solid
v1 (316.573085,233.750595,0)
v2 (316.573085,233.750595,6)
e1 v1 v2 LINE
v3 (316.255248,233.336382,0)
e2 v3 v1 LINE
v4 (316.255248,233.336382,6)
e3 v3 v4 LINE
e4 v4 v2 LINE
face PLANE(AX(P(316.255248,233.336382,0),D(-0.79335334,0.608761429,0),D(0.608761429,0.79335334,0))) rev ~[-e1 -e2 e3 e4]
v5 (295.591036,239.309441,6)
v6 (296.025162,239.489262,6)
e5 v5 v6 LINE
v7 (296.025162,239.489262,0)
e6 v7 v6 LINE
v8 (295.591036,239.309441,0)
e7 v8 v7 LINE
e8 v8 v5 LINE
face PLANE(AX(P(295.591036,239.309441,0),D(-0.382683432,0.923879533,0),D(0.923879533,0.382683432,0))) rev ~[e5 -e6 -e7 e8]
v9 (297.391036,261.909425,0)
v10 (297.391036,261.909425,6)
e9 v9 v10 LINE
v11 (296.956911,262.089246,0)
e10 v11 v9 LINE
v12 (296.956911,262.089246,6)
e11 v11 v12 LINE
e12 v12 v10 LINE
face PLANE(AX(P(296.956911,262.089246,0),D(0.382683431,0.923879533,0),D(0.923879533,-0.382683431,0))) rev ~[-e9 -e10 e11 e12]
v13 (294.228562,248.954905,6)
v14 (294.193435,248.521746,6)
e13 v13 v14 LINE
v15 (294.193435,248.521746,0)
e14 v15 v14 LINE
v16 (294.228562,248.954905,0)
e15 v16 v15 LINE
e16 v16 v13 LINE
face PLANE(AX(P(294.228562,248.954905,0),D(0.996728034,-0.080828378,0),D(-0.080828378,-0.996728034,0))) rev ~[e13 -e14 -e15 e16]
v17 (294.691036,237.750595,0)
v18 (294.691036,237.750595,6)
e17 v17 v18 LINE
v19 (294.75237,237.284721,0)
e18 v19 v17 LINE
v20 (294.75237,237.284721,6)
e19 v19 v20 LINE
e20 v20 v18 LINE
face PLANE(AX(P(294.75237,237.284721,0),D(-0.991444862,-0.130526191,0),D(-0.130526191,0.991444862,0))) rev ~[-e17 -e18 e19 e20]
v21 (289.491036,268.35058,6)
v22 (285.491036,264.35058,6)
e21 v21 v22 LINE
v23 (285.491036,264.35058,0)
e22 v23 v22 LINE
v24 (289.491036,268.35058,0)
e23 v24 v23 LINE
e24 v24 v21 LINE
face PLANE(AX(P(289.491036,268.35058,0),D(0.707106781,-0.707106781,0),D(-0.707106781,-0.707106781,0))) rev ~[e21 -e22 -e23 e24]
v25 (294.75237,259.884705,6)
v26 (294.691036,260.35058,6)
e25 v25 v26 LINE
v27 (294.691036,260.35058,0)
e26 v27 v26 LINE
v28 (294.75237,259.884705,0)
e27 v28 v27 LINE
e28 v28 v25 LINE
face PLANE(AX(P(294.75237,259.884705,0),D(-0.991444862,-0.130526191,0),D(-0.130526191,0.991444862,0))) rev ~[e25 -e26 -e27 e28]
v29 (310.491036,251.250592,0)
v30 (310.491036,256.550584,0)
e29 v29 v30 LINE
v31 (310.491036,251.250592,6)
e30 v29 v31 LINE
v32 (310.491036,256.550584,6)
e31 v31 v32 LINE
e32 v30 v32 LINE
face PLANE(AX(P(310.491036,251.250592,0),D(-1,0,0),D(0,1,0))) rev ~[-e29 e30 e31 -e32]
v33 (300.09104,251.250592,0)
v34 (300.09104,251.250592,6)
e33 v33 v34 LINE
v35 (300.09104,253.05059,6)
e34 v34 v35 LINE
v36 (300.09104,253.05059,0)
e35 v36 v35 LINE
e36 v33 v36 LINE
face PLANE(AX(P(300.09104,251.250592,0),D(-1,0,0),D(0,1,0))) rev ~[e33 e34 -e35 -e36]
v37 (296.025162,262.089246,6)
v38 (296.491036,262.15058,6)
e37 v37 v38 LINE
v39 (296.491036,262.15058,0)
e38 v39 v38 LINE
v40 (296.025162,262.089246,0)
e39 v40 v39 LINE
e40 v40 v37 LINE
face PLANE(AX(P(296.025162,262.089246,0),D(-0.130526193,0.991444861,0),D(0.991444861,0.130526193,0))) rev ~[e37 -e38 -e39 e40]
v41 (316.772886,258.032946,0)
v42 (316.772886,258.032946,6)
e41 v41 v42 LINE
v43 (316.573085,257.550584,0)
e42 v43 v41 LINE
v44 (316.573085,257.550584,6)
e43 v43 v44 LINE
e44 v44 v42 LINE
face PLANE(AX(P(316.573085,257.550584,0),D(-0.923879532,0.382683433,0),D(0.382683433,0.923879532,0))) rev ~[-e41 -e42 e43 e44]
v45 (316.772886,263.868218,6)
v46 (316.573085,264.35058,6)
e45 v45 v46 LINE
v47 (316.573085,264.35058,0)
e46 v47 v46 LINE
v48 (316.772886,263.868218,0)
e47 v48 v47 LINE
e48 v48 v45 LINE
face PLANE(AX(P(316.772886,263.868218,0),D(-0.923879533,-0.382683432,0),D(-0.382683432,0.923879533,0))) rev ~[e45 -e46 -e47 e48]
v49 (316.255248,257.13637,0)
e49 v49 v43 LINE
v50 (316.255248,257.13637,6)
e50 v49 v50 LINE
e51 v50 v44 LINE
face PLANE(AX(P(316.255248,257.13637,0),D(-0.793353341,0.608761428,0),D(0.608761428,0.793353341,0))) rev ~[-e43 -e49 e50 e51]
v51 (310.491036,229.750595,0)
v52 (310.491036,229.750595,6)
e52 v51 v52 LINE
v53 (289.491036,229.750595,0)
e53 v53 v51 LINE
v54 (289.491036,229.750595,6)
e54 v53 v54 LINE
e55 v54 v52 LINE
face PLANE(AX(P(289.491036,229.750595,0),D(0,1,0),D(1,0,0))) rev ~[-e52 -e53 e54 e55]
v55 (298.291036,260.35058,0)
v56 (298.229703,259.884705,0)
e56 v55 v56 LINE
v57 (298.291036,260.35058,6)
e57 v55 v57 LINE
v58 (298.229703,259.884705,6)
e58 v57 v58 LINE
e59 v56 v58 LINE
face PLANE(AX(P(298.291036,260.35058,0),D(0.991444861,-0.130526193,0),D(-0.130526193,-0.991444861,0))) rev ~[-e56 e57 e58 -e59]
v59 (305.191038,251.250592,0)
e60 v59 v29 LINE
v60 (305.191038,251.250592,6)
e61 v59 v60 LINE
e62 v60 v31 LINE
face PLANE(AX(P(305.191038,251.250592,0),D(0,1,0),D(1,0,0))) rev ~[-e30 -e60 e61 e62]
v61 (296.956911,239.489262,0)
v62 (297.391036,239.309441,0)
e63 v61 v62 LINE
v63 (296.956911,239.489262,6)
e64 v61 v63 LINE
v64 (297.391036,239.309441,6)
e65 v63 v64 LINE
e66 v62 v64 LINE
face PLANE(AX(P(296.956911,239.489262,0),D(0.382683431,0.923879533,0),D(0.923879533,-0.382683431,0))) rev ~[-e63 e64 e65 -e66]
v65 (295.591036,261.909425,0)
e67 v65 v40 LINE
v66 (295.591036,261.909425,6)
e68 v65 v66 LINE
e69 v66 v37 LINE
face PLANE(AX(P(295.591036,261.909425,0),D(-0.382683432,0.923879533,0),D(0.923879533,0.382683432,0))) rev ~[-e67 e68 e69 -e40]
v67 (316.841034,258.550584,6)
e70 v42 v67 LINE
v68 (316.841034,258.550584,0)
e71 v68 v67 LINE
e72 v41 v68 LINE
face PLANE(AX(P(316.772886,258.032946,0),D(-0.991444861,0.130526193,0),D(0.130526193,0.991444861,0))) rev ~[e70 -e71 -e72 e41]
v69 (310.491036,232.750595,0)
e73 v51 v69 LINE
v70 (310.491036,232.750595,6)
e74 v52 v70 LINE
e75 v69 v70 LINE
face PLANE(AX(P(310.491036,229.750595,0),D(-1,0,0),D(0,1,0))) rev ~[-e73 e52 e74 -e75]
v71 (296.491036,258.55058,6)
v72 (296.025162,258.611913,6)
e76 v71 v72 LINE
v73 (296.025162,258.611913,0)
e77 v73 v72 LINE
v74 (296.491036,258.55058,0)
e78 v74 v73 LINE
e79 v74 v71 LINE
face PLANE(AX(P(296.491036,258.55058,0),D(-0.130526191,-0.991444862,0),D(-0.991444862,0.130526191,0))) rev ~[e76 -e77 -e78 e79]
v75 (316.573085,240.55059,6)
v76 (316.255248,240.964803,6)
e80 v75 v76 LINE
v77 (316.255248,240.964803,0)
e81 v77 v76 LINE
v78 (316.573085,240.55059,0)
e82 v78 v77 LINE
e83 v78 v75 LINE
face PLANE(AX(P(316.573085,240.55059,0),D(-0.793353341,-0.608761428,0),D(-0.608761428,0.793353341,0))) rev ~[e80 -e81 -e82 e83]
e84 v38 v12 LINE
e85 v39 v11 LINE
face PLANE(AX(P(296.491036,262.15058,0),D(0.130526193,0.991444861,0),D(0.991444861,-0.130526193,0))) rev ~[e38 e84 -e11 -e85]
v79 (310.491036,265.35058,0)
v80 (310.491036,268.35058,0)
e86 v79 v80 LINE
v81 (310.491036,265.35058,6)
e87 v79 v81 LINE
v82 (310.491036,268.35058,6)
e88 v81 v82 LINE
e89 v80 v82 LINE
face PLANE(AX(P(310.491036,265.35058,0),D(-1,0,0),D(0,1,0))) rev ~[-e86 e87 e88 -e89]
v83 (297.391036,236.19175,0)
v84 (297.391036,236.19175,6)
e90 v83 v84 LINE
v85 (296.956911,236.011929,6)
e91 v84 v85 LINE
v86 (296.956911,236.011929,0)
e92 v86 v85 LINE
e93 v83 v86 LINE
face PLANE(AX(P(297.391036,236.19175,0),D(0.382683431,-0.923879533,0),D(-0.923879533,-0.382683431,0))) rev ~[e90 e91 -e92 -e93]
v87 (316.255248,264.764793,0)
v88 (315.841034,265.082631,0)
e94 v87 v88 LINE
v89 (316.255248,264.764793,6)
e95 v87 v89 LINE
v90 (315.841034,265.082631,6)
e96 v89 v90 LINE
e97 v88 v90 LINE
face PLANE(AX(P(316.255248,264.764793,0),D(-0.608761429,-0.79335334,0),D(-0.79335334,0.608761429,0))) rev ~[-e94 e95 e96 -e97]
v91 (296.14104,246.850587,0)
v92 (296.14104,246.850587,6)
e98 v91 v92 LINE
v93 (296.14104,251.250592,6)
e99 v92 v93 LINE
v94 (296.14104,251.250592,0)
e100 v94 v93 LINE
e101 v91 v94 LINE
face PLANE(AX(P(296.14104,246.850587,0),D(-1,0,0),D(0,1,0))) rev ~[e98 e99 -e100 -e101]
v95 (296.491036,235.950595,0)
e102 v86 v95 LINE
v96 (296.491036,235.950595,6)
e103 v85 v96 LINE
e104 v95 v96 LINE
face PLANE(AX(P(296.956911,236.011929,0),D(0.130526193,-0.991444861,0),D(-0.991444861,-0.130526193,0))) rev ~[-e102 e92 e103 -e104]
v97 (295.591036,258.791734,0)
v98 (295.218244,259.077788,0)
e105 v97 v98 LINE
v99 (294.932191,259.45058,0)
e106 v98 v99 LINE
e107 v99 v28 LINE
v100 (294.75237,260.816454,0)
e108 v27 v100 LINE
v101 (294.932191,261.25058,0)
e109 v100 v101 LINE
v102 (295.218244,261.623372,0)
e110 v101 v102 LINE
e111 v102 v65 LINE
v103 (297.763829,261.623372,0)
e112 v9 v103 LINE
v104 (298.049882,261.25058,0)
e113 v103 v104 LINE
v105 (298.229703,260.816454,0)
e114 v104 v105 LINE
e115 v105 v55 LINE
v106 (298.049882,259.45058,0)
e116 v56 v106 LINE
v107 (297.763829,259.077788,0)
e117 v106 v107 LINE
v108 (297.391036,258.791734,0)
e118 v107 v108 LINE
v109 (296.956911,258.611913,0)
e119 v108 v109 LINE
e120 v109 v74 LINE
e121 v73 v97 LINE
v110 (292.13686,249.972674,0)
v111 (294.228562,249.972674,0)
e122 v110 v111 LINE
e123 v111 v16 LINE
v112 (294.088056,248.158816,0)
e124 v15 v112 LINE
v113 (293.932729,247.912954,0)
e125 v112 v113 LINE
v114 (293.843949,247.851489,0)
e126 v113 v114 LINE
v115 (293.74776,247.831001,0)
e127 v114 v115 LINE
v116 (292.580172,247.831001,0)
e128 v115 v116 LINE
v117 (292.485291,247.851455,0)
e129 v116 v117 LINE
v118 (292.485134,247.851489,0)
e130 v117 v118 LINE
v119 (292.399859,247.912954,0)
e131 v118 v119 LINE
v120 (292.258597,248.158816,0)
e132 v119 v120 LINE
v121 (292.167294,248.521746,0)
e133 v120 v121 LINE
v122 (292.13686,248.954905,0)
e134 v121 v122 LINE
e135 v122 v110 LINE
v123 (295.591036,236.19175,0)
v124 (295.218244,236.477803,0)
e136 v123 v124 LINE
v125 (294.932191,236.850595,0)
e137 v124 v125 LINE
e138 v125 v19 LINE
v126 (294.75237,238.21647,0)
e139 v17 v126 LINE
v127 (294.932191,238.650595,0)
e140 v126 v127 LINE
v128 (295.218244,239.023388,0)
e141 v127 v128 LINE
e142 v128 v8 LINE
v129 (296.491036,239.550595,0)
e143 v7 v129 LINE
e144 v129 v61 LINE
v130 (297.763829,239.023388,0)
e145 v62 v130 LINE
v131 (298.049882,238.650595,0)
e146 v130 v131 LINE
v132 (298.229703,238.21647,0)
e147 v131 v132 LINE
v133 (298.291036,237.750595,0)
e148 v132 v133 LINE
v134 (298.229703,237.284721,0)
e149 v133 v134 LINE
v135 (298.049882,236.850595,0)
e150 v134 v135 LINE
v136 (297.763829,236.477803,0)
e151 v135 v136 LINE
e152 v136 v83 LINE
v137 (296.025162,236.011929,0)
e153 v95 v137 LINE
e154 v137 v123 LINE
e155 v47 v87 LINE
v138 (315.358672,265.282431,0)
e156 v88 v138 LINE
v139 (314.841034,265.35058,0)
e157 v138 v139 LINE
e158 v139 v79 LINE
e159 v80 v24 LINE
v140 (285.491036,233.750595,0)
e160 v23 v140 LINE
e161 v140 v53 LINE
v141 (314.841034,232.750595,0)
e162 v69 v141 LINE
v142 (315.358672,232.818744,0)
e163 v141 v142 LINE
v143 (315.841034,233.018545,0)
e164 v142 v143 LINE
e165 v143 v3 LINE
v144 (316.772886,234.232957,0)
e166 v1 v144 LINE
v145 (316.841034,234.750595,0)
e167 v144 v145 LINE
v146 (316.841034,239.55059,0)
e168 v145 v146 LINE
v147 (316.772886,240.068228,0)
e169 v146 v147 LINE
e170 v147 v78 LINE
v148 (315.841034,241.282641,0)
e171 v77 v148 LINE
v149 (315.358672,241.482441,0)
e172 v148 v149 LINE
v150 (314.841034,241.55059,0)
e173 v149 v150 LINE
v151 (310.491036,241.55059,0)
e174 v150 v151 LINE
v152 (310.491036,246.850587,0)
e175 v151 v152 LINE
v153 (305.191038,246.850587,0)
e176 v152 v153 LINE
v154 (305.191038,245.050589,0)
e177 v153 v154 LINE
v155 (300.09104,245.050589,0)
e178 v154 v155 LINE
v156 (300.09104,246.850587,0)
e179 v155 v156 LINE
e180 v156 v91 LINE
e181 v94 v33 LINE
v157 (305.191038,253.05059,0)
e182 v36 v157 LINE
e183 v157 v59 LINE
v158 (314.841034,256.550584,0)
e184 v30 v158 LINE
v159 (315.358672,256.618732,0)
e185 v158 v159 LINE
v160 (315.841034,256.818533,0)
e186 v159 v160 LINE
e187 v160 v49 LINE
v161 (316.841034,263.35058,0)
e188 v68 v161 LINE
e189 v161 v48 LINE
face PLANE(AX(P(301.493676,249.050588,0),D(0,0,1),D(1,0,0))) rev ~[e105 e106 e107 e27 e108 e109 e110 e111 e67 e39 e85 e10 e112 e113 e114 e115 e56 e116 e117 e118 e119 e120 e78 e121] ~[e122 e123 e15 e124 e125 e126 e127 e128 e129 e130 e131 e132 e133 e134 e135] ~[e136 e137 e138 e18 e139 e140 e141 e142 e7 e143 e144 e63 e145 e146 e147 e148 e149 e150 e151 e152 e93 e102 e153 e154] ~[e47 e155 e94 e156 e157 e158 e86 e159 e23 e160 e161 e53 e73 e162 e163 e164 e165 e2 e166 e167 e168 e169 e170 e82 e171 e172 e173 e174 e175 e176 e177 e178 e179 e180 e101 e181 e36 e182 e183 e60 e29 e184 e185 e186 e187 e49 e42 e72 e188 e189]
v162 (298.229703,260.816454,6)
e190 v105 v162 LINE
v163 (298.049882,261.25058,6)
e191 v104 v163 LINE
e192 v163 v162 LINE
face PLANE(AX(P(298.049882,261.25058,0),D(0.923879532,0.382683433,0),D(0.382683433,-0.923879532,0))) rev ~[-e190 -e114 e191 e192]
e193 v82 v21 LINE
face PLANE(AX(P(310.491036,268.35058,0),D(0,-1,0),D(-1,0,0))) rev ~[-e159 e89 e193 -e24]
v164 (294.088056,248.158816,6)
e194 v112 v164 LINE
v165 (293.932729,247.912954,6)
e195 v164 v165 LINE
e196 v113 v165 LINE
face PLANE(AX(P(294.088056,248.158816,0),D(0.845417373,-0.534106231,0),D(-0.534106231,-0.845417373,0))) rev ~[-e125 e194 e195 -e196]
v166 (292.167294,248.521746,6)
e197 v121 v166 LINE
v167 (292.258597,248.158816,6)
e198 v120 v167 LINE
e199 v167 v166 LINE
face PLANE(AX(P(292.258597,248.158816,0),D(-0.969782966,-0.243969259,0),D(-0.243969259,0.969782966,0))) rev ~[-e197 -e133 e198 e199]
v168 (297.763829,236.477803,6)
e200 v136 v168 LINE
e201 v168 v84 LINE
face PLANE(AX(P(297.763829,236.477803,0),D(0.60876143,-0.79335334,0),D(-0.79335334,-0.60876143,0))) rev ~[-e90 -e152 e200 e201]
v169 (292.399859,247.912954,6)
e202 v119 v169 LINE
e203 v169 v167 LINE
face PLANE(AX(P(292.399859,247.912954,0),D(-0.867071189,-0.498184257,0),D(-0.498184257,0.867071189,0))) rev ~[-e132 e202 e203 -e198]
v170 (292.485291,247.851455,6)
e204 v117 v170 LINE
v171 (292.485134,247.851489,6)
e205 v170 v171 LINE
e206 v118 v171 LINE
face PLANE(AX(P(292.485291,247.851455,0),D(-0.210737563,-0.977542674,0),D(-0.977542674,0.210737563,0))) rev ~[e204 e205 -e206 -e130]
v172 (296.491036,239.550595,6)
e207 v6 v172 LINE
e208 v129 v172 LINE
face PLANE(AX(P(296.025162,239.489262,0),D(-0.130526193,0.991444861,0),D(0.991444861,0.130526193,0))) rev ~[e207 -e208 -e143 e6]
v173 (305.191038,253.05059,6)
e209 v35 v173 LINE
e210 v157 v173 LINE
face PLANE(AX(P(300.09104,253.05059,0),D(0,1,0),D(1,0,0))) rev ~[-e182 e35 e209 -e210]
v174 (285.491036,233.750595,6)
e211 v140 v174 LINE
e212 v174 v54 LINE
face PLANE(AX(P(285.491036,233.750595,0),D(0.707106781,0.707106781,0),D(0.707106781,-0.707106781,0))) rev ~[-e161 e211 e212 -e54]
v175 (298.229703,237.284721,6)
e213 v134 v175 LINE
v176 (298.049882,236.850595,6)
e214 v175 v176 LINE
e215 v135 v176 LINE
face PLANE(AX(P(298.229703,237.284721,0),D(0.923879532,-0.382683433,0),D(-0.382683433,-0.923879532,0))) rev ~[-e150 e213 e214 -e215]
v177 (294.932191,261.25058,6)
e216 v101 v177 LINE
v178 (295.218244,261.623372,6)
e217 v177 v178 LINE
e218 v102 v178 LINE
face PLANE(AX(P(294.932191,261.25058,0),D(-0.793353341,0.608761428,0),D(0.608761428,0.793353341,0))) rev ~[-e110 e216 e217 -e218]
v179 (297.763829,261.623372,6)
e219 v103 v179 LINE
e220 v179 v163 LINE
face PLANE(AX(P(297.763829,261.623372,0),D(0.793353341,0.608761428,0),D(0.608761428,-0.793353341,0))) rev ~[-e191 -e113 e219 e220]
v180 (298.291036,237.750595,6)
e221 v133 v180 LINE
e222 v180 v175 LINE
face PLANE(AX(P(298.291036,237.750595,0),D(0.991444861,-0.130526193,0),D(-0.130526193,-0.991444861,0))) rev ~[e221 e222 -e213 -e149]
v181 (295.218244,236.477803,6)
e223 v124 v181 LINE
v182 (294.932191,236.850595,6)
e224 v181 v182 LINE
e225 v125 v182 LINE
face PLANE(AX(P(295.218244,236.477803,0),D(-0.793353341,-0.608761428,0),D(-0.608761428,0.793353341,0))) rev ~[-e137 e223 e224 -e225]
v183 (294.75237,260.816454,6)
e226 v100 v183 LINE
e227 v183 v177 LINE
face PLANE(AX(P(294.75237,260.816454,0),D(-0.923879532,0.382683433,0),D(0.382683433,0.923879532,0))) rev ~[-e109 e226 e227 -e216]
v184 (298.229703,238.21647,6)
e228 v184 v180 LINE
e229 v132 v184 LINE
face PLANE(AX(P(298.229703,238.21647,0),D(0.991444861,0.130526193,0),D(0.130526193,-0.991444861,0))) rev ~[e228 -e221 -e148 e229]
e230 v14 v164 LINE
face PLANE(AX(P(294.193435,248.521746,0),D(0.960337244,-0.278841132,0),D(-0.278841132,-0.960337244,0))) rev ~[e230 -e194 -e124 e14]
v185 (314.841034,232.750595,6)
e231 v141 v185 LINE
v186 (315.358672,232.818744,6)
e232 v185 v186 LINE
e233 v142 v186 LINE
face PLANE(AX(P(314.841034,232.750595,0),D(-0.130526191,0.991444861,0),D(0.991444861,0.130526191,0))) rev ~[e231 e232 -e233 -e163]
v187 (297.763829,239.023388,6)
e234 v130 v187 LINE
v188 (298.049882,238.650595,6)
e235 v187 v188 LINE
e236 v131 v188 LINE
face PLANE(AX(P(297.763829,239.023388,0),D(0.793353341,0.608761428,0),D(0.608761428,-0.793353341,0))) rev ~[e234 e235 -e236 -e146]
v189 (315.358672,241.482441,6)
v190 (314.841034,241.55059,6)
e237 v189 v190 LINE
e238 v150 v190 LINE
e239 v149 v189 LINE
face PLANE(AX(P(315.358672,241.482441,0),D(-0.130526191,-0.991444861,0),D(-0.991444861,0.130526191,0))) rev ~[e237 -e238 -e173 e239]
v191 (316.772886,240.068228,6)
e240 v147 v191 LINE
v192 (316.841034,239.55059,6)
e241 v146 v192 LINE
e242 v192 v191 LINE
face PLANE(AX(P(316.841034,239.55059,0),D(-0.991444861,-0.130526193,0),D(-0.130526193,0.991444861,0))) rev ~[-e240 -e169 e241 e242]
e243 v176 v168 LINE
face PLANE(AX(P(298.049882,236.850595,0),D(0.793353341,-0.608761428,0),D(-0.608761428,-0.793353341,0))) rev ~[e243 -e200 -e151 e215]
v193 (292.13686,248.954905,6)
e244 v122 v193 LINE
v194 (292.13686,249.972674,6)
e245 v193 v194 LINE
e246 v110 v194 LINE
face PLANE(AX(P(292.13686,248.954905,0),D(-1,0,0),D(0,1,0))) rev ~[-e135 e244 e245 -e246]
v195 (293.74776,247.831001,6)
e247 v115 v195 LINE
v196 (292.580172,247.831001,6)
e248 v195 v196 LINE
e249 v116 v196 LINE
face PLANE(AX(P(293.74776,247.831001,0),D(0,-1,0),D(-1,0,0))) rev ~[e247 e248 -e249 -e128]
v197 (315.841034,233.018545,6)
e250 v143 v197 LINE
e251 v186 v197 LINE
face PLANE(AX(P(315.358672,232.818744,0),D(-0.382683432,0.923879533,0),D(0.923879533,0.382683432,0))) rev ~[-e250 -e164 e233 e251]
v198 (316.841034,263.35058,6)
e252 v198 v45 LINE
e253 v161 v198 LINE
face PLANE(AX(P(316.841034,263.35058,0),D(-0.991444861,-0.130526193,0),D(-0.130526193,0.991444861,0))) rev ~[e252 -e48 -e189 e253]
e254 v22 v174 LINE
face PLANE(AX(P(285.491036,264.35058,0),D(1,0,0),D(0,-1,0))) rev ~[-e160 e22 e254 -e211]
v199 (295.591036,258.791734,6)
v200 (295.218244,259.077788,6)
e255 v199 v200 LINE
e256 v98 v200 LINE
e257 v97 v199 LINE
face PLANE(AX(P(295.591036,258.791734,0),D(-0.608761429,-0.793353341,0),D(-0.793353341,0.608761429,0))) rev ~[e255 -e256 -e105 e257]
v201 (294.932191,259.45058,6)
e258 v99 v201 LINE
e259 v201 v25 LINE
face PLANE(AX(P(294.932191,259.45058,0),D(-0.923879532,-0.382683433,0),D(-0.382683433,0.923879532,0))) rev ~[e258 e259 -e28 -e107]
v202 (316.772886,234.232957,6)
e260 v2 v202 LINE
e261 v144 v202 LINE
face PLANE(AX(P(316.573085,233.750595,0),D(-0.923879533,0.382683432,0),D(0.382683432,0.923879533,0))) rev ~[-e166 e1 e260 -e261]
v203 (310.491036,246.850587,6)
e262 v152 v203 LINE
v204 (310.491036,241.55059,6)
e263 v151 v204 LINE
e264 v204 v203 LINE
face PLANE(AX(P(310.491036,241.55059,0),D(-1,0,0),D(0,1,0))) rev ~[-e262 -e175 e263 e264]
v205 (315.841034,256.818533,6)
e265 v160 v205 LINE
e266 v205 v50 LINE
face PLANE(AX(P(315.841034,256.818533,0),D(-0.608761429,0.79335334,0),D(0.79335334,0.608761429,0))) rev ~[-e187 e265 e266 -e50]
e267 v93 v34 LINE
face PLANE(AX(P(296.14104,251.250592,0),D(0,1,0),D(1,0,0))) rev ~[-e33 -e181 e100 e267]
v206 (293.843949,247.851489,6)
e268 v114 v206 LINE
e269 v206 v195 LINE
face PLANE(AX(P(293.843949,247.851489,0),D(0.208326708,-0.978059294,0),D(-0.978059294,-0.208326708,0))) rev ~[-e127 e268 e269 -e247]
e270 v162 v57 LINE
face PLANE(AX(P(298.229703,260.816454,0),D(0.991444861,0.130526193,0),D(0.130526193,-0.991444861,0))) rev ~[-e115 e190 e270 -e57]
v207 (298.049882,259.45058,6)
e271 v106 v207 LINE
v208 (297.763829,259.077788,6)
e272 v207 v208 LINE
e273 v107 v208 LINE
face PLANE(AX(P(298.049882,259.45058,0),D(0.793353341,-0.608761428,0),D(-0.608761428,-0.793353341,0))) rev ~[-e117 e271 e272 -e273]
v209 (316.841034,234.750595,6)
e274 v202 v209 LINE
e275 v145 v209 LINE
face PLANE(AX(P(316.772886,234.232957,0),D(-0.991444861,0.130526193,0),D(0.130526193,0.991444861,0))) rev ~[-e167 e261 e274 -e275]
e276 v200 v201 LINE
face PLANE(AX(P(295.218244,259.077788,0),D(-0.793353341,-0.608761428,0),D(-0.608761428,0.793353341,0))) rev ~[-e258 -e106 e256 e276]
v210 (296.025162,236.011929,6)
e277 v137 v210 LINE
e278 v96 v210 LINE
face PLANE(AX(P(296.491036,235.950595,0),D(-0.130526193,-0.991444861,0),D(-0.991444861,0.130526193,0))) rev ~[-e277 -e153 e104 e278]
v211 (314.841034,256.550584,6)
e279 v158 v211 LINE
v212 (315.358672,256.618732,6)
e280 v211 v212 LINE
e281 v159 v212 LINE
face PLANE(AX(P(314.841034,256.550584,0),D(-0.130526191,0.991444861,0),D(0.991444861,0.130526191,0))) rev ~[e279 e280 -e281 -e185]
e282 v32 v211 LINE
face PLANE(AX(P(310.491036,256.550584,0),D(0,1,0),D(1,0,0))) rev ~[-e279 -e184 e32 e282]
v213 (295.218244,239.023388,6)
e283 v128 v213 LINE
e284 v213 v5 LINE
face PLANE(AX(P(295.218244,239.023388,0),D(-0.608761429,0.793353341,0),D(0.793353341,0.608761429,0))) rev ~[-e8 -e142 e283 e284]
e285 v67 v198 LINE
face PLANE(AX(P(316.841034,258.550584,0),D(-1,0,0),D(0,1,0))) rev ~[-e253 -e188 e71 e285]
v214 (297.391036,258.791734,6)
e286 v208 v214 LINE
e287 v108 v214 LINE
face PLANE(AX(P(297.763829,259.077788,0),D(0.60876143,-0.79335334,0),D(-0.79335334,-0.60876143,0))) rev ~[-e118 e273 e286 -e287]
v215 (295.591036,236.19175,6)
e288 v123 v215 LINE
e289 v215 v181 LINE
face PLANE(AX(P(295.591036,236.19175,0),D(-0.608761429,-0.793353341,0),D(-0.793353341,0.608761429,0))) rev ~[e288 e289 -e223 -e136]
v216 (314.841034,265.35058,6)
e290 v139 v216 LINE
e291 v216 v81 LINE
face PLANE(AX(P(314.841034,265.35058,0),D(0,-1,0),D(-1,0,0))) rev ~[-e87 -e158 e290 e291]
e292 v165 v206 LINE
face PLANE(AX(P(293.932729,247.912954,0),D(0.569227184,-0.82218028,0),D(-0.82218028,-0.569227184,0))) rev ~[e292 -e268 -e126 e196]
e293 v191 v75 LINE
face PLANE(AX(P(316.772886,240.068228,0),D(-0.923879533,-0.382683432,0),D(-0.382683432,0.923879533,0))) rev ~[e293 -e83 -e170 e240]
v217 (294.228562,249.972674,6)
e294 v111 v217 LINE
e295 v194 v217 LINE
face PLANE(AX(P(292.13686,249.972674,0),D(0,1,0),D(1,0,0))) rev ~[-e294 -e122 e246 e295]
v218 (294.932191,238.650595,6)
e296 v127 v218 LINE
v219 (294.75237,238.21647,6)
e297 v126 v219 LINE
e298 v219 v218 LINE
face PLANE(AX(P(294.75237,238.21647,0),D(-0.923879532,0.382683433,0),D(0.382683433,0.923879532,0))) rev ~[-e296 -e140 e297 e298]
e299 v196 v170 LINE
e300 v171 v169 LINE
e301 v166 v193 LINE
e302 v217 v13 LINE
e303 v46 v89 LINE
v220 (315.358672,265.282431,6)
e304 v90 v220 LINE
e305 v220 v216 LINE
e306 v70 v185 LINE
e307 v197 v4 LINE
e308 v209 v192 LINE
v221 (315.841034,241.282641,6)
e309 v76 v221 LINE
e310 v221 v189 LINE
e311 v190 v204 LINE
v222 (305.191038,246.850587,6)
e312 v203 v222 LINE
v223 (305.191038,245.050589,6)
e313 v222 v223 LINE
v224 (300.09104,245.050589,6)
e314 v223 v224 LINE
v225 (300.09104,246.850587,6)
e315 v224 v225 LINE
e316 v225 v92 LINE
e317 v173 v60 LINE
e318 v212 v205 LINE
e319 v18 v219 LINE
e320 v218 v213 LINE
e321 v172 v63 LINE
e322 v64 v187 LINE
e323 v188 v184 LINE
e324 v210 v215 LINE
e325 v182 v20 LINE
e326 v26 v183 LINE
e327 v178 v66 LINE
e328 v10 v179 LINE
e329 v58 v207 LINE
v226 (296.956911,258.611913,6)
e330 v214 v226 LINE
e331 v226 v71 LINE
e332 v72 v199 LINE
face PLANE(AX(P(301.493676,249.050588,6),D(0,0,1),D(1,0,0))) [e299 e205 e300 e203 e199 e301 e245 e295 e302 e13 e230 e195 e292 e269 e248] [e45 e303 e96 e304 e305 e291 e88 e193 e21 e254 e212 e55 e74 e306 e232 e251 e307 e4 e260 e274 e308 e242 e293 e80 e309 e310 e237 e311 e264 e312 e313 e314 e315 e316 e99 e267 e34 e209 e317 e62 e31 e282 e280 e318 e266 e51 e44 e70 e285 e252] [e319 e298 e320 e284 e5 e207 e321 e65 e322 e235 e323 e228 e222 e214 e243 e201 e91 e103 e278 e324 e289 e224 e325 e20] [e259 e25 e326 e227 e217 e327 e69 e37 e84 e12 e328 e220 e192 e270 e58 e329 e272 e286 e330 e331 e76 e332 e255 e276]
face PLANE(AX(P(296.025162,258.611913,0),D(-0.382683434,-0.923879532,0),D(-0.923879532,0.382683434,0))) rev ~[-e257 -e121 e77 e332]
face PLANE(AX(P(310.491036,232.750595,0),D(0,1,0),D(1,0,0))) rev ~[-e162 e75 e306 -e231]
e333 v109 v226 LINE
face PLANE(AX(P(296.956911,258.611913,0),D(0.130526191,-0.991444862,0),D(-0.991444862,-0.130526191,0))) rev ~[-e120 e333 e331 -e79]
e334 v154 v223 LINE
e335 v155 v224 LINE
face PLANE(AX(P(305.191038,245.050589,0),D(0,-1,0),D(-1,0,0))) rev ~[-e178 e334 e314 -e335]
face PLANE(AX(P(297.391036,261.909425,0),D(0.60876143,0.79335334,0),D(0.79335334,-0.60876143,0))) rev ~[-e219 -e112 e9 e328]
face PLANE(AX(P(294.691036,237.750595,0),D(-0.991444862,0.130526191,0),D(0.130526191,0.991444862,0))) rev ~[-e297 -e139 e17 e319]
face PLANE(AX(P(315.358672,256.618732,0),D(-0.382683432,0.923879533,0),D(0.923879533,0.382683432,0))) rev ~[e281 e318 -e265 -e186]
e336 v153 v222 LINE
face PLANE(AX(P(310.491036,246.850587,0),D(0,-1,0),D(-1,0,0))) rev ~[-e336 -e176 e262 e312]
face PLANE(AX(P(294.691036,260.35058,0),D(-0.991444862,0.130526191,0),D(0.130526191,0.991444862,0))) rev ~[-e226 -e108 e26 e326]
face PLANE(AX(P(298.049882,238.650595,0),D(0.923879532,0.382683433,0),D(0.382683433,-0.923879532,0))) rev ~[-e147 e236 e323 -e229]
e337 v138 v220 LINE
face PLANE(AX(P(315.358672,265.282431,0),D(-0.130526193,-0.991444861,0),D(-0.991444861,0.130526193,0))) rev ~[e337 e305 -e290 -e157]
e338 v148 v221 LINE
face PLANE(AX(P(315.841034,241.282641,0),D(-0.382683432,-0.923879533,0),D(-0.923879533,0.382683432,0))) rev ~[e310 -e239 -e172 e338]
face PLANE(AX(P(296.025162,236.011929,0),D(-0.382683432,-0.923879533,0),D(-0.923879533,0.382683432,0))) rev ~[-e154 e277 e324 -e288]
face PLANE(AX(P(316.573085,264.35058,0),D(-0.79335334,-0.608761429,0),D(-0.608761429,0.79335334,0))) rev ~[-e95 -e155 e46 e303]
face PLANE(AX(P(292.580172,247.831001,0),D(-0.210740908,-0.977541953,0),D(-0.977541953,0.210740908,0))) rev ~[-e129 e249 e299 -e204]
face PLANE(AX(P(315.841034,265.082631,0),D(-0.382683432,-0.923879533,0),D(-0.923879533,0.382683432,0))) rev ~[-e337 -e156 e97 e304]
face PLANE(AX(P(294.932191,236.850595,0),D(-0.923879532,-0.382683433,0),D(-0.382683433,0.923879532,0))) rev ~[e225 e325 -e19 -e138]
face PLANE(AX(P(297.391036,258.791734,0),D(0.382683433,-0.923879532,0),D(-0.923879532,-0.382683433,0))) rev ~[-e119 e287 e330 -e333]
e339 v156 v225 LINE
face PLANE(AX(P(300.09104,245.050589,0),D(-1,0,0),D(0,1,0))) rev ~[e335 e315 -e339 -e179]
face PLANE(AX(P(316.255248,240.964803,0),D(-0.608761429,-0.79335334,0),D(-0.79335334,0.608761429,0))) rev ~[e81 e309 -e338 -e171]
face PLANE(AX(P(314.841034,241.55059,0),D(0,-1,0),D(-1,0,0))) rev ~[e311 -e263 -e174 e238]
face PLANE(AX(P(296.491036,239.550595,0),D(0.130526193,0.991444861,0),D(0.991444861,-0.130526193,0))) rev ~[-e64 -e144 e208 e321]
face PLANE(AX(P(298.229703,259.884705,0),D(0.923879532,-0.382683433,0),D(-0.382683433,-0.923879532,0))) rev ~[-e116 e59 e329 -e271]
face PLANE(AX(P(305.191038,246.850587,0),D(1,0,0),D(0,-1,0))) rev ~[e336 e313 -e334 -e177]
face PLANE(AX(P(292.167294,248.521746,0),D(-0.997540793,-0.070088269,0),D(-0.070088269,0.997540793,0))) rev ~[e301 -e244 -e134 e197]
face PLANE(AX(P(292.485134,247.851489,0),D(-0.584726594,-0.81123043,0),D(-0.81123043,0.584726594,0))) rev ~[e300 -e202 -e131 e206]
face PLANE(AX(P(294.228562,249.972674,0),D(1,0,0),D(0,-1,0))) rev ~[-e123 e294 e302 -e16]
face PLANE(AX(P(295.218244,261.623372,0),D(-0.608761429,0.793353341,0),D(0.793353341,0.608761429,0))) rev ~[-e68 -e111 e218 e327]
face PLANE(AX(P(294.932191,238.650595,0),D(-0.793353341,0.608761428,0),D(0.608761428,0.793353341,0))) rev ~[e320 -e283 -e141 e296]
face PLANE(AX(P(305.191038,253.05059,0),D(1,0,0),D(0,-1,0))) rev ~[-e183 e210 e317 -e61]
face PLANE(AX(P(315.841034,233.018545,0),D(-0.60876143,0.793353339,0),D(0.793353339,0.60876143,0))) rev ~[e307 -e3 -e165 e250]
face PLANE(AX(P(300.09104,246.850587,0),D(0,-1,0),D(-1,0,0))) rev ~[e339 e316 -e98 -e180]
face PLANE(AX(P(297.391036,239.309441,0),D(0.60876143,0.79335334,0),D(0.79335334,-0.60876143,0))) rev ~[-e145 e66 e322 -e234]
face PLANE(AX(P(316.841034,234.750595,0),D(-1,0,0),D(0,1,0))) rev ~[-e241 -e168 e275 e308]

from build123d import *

# Parameters (mm, degrees)
BOSS_EXTRUDE1_DEPTH = 6


with BuildPart() as part:
    # Sketch1 → Boss-Extrude1 (new body)
    with BuildSketch(Plane.XY):
        Polygon((316.255247905, 240.964803396), (315.841034343, 241.282640641), (315.358672433, 241.482441486), (314.841034343, 241.550589833), (310.491036452, 241.550589833), (310.491036452, 246.850587088), (305.19103763, 246.850587088), (305.19103763, 245.050588856), (300.091039865, 245.050588856), (300.091039865, 246.850587088), (296.141040043, 246.850587088), (296.141040043, 251.25059176), (300.091039865, 251.25059176), (300.091039865, 253.050589992), (305.19103763, 253.050589992), (305.19103763, 251.25059176), (310.491036452, 251.25059176), (310.491036452, 256.550583767), (314.841034343, 256.550583767), (315.358672433, 256.618732114), (315.841034343, 256.818532959), (316.255247905, 257.136370204), (316.57308515, 257.550583767), (316.772885995, 258.032945676), (316.841034343, 258.550583767), (316.841034343, 263.350579732), (316.772885995, 263.868217822), (316.57308515, 264.350579732), (316.255247905, 264.764793294), (315.841034343, 265.082630539), (315.358672433, 265.282431384), (314.841034343, 265.350579732), (310.491036452, 265.350579732), (310.491036452, 268.350579732), (289.491036452, 268.350579732), (285.491036452, 264.350579732), (285.491036452, 233.750595391), (289.491036452, 229.750595391), (310.491036452, 229.750595391), (310.491036452, 232.750595391), (314.841034343, 232.750595391), (315.358672433, 232.818743738), (315.841034343, 233.018544583), (316.255247905, 233.336381829), (316.57308515, 233.750595391), (316.772885995, 234.232957301), (316.841034343, 234.750595391), (316.841034343, 239.550589833), (316.772885995, 240.068227923), (316.57308515, 240.550589833), align=None)
        Polygon((296.491036452, 235.950595391), (296.02516217, 236.011928904), (295.591036452, 236.191749664), (295.218244245, 236.477803185), (294.932190725, 236.850595391), (294.752369964, 237.28472111), (294.691036452, 237.750595391), (294.752369964, 238.216469672), (294.932190725, 238.650595391), (295.218244245, 239.023387597), (295.591036452, 239.309441118), (296.02516217, 239.489261878), (296.491036452, 239.550595391), (296.956910733, 239.489261878), (297.391036452, 239.309441118), (297.763828658, 239.023387597), (298.049882178, 238.650595391), (298.229702939, 238.216469672), (298.291036452, 237.750595391), (298.229702939, 237.28472111), (298.049882178, 236.850595391), (297.763828658, 236.477803185), (297.391036452, 236.191749664), (296.956910733, 236.011928904), align=None, mode=Mode.SUBTRACT)
        Polygon((292.167294345, 248.521745899), (292.136860132, 248.95490496), (292.136860132, 249.972673633), (292.137050681, 249.972673633), (294.228561733, 249.972673633), (294.228561733, 248.95490496), (294.193435256, 248.521745899), (294.088055826, 248.158815973), (293.932728797, 247.912954455), (293.84394944, 247.851489075), (293.747759523, 247.831000615), (292.580314782, 247.831000615), (292.58017187, 247.831000615), (292.485290658, 247.851455341), (292.485134177, 247.851489075), (292.399859132, 247.912954455), (292.258596985, 248.158815973), align=None, mode=Mode.SUBTRACT)
        Polygon((295.218244245, 259.077787526), (294.932190725, 259.450579732), (294.752369964, 259.884705451), (294.691036452, 260.350579732), (294.752369964, 260.816454013), (294.932190725, 261.250579732), (295.218244245, 261.623371938), (295.591036452, 261.909425459), (296.02516217, 262.089246219), (296.491036452, 262.150579732), (296.956910733, 262.089246219), (297.391036452, 261.909425459), (297.763828658, 261.623371938), (298.049882178, 261.250579732), (298.229702939, 260.816454013), (298.291036452, 260.350579732), (298.229702939, 259.884705451), (298.049882178, 259.450579732), (297.763828658, 259.077787526), (297.391036452, 258.791734005), (296.956910733, 258.611913244), (296.491036452, 258.550579732), (296.02516217, 258.611913244), (295.591036452, 258.791734005), align=None, mode=Mode.SUBTRACT)
    extrude(amount=BOSS_EXTRUDE1_DEPTH)


solid = part.part
